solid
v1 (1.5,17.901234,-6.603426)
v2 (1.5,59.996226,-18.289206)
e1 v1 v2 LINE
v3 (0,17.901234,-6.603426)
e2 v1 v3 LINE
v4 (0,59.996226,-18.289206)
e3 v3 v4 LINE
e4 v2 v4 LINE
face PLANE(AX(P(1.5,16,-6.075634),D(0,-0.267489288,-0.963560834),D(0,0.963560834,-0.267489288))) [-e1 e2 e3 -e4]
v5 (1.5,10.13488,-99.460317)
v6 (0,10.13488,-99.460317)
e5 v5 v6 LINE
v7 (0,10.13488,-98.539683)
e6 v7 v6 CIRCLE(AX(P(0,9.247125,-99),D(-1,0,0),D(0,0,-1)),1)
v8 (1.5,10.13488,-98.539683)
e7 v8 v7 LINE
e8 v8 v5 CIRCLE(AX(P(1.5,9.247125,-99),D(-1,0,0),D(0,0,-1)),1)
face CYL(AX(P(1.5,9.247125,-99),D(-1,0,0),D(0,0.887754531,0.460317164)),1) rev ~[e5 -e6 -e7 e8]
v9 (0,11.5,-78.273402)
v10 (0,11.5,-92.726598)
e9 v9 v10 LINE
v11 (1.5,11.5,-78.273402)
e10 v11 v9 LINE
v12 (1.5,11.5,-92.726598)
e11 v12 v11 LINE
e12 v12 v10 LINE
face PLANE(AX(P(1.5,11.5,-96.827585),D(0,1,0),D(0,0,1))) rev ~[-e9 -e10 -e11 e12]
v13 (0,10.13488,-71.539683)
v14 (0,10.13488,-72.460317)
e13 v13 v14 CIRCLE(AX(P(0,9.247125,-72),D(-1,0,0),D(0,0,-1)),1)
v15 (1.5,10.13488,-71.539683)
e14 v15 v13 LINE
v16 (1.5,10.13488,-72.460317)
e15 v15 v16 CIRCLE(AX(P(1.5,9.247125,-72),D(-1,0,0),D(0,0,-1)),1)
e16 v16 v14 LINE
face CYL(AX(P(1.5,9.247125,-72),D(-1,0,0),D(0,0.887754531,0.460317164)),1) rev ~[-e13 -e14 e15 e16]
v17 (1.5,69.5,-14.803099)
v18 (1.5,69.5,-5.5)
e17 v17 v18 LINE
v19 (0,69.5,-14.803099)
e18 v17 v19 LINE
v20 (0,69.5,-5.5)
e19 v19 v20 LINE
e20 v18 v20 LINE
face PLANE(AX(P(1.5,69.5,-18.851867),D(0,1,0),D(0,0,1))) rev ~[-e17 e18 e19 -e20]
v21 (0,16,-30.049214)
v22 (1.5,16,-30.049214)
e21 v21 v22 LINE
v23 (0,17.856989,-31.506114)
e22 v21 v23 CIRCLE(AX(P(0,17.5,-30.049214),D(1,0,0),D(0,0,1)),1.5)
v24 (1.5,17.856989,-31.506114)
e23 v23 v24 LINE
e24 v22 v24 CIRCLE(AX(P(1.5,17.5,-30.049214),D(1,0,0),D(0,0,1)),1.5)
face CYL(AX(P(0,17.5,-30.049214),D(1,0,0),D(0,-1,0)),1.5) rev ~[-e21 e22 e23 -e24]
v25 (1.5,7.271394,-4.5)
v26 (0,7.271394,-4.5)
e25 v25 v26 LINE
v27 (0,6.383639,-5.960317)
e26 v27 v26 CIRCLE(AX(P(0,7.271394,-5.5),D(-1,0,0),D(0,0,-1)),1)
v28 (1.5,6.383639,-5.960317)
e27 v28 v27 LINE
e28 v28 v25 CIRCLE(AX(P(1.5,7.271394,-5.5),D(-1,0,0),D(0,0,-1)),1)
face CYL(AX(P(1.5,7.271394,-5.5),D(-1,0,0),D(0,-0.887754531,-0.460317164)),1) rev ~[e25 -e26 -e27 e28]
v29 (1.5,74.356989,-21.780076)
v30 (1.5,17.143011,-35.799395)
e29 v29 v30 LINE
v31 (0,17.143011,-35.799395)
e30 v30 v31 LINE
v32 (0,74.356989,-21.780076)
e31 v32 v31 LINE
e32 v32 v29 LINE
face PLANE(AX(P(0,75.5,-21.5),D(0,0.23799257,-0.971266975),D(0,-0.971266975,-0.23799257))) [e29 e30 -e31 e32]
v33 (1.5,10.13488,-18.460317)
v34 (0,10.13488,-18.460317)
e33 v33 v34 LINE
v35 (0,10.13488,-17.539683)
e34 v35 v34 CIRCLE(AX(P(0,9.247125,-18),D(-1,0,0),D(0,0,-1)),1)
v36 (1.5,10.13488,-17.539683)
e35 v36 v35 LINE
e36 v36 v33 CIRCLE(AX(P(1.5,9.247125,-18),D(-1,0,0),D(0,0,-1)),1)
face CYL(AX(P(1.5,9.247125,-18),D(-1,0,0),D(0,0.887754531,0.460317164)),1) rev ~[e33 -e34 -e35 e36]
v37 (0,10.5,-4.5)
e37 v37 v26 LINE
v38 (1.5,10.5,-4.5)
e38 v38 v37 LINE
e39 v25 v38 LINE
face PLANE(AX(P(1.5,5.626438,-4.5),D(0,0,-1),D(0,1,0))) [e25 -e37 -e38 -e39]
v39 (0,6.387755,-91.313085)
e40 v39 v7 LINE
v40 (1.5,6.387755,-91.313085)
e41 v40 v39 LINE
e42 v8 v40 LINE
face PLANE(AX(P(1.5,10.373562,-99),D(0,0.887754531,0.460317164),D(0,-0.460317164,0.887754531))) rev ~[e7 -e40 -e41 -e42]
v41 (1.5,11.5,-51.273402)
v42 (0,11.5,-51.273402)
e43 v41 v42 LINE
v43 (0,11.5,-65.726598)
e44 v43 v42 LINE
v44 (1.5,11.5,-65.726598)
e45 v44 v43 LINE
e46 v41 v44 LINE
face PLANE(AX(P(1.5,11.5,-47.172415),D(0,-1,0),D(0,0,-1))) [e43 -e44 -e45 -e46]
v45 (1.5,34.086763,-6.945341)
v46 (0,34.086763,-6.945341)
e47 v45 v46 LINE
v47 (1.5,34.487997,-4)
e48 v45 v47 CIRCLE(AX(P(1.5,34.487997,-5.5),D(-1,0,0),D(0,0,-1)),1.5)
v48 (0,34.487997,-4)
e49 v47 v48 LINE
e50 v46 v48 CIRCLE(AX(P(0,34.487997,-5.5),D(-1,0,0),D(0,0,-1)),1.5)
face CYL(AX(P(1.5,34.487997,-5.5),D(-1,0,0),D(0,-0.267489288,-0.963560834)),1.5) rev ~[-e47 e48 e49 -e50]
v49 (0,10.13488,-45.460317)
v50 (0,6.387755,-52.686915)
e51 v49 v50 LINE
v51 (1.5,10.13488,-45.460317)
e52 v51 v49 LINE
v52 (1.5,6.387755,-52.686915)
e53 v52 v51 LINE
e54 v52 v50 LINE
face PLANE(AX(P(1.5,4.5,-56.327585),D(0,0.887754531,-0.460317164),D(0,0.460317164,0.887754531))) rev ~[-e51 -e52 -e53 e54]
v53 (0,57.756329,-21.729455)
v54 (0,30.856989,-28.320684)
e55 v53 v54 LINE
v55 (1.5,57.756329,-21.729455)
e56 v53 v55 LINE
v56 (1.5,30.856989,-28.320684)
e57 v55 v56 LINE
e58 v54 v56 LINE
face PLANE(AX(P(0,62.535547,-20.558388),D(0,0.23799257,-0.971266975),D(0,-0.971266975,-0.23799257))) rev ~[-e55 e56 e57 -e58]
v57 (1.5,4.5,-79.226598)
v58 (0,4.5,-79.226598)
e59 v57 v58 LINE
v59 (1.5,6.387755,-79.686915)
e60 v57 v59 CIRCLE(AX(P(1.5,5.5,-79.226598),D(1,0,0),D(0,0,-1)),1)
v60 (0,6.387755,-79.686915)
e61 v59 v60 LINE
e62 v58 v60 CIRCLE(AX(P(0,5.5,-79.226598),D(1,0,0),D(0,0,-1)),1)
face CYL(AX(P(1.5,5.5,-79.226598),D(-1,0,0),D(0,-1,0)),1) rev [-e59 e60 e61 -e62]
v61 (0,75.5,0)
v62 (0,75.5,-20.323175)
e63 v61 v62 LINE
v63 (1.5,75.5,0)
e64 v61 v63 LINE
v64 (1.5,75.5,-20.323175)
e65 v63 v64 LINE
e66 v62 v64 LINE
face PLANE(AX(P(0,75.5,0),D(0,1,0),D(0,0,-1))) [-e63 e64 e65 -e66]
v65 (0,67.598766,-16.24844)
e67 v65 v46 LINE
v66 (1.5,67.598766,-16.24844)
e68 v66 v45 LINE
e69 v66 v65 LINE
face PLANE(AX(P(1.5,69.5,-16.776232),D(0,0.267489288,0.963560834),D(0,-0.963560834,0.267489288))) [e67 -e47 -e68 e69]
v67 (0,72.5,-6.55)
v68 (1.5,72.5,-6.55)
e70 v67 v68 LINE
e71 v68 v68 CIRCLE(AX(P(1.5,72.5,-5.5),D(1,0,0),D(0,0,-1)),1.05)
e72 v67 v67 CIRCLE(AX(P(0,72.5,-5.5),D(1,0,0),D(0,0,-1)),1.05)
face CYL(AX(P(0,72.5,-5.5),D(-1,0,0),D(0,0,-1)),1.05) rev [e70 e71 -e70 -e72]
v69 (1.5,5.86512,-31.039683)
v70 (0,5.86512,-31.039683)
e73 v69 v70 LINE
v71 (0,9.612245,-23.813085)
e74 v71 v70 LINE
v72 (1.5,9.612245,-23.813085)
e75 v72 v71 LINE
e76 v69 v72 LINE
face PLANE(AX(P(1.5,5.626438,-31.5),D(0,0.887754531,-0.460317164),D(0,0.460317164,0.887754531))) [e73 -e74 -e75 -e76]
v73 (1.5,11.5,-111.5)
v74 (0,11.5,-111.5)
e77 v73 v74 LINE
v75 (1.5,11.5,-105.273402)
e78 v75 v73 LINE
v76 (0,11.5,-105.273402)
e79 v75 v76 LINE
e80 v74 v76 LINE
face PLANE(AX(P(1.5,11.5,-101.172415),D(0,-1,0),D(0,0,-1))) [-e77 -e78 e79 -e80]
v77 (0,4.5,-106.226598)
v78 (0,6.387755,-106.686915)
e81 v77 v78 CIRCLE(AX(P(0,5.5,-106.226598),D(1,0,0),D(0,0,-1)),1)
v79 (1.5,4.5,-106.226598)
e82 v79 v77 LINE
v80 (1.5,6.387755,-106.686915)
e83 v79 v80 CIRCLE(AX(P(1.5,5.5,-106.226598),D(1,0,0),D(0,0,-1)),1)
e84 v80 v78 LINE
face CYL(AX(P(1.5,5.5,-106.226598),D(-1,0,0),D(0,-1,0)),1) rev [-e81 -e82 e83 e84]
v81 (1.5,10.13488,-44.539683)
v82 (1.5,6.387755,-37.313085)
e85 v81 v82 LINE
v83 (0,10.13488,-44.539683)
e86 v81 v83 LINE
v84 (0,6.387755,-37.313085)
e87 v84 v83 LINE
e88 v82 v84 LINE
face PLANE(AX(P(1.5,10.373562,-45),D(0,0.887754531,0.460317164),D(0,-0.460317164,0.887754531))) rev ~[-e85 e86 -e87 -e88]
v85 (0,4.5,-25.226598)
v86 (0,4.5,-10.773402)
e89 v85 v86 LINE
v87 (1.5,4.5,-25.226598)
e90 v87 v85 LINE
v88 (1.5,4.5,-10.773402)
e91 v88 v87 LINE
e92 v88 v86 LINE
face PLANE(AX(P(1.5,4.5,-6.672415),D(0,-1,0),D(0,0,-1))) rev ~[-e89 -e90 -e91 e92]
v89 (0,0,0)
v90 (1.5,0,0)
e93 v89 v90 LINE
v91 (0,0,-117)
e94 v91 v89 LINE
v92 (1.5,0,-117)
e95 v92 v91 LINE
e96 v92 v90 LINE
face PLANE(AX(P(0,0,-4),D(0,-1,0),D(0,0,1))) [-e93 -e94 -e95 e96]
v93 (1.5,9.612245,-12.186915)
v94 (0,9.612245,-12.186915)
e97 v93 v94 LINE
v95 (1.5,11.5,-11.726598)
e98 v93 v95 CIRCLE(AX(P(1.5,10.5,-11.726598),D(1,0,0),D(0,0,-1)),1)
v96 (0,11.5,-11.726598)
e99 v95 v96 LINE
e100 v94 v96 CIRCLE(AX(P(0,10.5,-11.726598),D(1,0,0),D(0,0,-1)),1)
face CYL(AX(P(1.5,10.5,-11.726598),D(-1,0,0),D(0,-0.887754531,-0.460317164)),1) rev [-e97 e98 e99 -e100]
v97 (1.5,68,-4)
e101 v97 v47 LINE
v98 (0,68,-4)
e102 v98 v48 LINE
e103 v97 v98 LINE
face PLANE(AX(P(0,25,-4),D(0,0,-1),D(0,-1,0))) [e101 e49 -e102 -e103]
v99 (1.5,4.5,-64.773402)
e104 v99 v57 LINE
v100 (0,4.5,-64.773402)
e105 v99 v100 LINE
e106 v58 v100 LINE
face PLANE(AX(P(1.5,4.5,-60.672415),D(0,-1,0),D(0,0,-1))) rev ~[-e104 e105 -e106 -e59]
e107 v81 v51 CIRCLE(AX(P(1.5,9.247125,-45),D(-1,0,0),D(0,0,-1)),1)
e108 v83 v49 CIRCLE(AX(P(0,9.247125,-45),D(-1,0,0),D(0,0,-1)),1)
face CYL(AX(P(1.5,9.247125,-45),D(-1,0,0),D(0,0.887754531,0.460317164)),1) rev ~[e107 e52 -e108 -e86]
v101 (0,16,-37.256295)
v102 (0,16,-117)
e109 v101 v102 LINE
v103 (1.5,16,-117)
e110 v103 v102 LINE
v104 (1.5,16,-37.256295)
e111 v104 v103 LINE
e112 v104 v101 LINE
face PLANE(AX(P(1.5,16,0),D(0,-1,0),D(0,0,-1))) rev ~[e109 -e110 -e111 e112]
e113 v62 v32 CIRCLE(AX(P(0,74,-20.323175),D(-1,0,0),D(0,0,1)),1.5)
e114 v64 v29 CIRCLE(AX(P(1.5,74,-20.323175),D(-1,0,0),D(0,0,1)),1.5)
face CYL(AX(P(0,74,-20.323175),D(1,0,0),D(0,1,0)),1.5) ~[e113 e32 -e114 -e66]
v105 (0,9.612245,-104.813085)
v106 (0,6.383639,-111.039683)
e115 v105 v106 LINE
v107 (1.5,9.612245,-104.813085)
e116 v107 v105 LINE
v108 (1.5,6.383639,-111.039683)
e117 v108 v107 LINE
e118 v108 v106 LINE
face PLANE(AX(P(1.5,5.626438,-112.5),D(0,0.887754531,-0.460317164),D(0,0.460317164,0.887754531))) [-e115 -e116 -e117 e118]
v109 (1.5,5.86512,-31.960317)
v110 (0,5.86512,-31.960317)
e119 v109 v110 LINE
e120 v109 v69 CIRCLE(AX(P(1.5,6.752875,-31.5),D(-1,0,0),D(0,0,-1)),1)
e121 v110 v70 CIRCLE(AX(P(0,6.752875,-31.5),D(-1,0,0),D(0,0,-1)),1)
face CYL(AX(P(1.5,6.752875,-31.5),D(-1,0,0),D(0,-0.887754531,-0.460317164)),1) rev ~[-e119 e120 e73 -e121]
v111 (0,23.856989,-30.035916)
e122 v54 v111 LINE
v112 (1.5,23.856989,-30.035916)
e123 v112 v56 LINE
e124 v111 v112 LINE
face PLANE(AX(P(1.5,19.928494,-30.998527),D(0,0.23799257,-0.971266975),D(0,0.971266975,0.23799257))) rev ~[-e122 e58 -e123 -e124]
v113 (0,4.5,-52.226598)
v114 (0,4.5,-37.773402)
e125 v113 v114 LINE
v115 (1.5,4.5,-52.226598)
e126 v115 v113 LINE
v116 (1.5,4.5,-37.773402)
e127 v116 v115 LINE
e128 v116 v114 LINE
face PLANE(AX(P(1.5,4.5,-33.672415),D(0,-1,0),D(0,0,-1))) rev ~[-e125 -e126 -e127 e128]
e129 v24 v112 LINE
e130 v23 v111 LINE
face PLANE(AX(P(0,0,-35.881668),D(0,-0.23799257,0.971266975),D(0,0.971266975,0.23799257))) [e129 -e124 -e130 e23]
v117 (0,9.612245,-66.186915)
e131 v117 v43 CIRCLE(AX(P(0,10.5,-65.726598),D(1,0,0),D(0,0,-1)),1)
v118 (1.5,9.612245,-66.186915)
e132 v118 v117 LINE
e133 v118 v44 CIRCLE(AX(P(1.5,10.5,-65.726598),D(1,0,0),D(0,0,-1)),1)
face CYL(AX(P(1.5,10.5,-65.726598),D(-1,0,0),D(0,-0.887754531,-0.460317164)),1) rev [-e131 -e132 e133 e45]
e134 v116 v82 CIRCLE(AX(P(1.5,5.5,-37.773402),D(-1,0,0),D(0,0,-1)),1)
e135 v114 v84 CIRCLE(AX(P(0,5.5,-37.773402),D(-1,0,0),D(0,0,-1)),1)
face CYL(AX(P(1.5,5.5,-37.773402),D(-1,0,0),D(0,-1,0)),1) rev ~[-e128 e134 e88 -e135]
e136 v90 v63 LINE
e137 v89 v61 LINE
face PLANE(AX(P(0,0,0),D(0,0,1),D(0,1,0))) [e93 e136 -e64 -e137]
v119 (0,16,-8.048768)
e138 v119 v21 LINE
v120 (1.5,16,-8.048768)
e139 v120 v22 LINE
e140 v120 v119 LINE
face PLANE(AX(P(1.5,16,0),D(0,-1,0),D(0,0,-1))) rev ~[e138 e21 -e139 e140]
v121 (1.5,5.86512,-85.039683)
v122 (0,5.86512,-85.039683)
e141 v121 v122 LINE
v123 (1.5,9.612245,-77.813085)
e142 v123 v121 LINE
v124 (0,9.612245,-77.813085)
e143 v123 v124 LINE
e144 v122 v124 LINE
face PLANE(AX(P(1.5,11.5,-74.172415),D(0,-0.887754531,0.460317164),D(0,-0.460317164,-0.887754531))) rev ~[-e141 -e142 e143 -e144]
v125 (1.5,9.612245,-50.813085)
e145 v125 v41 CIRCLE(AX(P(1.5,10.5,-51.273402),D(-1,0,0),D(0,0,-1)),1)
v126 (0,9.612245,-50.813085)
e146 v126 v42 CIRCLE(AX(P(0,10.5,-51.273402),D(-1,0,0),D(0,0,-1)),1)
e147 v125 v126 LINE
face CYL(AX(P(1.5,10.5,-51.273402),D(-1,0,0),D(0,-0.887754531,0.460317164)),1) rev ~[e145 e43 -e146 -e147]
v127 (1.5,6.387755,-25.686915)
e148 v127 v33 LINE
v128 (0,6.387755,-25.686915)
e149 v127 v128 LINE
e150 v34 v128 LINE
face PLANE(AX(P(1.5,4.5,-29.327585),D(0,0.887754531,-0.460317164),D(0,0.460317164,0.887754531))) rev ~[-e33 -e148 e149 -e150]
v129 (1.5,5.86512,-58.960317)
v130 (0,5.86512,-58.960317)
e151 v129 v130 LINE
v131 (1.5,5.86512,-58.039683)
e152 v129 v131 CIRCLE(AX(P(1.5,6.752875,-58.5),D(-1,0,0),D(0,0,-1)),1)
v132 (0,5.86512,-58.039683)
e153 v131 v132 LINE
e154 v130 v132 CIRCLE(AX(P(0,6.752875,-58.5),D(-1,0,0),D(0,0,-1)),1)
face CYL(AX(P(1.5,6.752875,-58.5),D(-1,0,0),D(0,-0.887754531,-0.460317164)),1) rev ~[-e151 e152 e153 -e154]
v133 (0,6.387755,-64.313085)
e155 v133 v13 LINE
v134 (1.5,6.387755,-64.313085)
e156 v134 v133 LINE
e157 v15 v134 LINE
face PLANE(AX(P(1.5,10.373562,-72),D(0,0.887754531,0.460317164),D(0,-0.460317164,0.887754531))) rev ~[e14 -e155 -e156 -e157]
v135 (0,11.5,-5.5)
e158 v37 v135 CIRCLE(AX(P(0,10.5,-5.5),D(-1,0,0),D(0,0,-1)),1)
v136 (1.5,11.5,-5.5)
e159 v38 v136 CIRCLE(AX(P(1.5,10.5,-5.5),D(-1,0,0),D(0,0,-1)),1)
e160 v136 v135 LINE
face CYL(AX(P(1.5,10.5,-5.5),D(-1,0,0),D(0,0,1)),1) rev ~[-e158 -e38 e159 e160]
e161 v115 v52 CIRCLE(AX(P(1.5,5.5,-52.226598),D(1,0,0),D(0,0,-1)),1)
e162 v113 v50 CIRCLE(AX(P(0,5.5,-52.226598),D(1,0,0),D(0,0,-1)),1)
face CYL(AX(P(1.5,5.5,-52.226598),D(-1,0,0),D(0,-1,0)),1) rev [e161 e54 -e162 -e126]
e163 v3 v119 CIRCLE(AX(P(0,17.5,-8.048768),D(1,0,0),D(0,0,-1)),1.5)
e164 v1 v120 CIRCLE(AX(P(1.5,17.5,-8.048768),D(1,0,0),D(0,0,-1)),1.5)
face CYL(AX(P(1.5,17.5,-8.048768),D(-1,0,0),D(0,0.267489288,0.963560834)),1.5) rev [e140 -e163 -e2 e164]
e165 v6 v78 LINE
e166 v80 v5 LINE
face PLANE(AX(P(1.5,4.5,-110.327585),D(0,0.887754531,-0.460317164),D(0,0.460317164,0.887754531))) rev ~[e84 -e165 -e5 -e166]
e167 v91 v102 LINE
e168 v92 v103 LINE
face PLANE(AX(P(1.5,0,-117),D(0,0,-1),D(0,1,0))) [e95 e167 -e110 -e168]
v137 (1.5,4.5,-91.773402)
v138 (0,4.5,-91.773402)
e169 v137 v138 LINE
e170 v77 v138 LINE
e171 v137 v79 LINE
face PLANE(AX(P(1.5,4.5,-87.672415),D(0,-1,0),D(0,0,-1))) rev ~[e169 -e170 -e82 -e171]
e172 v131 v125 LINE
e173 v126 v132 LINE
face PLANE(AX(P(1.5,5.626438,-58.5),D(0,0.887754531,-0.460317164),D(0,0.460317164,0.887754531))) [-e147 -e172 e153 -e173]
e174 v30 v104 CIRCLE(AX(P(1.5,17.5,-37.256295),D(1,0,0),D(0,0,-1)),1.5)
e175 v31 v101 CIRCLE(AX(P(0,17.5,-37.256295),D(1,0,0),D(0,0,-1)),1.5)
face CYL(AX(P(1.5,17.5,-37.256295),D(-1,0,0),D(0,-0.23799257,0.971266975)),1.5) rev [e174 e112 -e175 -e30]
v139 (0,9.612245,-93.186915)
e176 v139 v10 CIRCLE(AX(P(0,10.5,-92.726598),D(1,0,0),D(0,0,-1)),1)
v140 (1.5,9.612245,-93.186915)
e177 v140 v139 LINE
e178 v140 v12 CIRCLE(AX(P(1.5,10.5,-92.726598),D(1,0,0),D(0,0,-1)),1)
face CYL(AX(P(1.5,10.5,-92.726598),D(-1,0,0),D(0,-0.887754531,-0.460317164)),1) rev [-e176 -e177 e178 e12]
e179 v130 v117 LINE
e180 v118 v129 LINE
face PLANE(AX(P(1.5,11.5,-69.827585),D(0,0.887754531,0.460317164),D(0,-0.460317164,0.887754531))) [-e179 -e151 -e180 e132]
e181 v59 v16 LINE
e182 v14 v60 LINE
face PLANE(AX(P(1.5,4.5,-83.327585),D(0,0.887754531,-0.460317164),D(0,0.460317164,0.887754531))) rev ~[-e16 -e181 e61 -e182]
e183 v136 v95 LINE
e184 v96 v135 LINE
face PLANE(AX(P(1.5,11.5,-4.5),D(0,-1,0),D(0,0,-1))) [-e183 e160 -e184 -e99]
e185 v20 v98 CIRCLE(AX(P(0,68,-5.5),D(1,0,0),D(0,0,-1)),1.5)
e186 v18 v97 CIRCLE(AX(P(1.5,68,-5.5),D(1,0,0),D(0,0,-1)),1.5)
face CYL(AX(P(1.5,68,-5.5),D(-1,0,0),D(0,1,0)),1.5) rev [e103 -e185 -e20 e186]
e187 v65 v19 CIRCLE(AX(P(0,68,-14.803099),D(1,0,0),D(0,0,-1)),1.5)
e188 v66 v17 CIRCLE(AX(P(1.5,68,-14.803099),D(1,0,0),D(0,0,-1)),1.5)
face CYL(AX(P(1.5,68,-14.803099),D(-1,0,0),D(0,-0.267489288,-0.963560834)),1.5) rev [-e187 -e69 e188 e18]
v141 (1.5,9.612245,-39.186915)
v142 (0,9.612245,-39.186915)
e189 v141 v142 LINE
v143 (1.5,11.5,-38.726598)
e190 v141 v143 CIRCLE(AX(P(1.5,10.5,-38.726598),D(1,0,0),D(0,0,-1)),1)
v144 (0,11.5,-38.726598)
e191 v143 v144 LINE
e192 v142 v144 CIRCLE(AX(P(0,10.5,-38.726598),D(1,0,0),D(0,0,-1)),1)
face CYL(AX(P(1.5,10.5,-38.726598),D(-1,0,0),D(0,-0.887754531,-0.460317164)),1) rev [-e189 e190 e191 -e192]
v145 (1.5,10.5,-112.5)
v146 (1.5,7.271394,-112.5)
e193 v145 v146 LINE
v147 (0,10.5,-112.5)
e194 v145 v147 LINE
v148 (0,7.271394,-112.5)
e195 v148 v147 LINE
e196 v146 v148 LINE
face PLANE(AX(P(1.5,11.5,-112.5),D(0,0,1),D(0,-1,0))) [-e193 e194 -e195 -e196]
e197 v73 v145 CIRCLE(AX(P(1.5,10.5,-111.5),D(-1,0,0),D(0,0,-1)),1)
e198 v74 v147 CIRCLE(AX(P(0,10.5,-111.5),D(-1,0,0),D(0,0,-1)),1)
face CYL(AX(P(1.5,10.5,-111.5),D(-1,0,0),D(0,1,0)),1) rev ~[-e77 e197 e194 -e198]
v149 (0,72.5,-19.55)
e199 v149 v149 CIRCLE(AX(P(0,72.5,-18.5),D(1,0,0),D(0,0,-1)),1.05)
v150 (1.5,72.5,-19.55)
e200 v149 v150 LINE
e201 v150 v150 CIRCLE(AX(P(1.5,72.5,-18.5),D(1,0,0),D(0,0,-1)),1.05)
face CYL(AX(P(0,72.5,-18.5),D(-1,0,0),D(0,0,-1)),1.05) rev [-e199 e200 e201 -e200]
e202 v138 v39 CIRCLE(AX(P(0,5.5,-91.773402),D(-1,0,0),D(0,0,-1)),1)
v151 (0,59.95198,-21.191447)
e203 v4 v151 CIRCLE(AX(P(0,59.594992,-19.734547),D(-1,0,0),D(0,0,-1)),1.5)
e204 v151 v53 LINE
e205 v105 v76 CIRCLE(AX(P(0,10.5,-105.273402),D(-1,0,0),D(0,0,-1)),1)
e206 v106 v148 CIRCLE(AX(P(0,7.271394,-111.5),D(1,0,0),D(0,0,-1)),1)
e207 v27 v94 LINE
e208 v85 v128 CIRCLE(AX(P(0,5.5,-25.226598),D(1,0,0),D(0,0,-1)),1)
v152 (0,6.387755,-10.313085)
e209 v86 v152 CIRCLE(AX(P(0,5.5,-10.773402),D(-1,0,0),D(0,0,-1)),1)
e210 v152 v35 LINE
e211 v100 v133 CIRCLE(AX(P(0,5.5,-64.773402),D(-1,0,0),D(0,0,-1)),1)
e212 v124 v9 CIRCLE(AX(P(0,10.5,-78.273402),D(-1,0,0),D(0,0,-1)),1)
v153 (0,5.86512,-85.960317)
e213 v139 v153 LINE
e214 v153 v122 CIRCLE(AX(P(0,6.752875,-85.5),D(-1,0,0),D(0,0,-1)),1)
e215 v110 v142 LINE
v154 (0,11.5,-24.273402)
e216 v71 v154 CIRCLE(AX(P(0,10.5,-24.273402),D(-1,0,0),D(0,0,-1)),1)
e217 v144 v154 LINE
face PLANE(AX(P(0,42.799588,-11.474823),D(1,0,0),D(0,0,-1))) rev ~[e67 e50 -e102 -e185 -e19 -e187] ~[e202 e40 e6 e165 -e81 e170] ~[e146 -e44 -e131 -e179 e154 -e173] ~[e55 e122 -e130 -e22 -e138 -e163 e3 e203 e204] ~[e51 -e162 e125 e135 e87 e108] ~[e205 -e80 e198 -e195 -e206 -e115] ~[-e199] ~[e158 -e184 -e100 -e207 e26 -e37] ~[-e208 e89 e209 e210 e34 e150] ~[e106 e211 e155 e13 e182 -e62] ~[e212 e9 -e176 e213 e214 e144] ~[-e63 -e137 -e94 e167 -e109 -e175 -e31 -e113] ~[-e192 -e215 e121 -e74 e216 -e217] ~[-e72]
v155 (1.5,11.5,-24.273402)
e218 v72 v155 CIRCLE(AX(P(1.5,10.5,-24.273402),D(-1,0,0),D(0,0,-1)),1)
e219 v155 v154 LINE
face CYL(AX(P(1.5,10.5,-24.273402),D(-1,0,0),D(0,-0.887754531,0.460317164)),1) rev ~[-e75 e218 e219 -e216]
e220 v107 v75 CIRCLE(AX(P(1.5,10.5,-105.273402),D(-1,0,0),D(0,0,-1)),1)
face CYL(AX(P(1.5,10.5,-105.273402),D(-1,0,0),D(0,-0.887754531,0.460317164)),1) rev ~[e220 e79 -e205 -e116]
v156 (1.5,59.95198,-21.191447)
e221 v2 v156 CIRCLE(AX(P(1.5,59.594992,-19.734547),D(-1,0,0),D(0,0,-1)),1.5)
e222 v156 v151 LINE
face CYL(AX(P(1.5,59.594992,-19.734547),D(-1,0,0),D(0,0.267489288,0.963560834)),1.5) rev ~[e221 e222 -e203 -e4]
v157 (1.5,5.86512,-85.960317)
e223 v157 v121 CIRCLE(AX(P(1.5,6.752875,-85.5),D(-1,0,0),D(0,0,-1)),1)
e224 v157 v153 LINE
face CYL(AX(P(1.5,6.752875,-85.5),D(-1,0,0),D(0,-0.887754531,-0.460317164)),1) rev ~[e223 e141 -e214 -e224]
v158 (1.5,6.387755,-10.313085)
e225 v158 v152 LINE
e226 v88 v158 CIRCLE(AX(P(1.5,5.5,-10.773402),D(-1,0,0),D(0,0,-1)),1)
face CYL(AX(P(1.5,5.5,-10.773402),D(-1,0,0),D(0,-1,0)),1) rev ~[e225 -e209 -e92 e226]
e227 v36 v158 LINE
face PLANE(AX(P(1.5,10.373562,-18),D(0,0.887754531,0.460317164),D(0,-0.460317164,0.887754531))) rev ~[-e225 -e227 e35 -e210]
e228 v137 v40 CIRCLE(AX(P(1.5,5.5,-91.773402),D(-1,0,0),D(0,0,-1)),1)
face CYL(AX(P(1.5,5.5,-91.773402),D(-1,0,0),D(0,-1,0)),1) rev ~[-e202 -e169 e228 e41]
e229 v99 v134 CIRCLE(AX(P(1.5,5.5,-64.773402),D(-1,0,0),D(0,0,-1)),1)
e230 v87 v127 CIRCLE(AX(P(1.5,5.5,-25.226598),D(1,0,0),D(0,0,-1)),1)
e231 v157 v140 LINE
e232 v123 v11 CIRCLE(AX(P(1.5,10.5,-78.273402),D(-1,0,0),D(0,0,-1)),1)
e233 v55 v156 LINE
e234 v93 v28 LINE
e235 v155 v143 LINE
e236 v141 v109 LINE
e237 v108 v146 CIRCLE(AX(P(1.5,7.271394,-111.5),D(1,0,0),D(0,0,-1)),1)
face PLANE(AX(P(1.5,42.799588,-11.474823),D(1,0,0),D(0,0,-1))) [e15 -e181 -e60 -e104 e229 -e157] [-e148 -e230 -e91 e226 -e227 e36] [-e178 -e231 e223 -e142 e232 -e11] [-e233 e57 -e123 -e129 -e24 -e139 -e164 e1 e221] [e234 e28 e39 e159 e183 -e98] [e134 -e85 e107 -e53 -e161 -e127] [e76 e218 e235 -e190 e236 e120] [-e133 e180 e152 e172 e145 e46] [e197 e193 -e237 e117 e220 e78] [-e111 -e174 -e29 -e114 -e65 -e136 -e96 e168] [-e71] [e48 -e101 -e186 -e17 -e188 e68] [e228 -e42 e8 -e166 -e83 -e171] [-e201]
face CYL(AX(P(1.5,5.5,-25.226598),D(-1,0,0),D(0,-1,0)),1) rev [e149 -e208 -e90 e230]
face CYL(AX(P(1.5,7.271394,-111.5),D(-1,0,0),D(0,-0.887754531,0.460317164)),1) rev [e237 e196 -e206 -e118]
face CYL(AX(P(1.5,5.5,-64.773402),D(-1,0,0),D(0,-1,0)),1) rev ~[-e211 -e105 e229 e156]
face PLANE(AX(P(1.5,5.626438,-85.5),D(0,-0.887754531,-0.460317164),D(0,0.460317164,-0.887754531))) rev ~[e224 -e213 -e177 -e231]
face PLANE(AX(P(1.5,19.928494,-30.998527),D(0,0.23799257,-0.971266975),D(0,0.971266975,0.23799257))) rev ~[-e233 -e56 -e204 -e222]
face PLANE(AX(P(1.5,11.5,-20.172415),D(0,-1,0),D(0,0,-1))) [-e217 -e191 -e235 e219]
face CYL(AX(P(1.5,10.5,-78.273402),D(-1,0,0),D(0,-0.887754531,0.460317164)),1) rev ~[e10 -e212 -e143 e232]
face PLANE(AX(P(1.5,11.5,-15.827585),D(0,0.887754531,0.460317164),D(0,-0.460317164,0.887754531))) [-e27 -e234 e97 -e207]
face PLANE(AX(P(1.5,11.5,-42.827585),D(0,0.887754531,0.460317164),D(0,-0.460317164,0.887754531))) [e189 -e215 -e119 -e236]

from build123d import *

# Parameters (mm, degrees)
SKETCH1_R           = 1.05
BOSS_EXTRUDE1_DEPTH = 1.5
FILLET1_R           = 1.5
SKETCH2_W           = 117
SKETCH2_H           = 16
BOSS_EXTRUDE2_DEPTH = 1.5
CUT_EXTRUDE2_DEPTH  = 140.253366207
FILLET3_R           = 1
CUT_EXTRUDE3_DEPTH  = 140.253366207
BOSS_EXTRUDE3_DEPTH = 1.5
FILLET5_R           = 1.5


with BuildPart() as part:
    # Sketch1 → Boss-Extrude1 (new body)
    with BuildSketch(Plane(origin=(0, 0, 0), x_dir=(0, 0, -1), z_dir=(1, 0, 0))):
        Polygon((0, 0), (0, 75.5), (21.5, 75.5), (40, 0), (35.881667859, 0), (29.755840045, 25), (4, 25), (4, 0), align=None)
        with Locations((5.5, 72.5)):
            Circle(SKETCH1_R, mode=Mode.SUBTRACT)
        with Locations((18.5, 72.5)):
            Circle(SKETCH1_R, mode=Mode.SUBTRACT)
        Polygon((4, 69.5), (18.851866535, 69.5), (4, 29), align=None, mode=Mode.SUBTRACT)
        Polygon((8.260475549, 29), (20.558388216, 62.535546651), (28.775707595, 29), align=None, mode=Mode.SUBTRACT)
    extrude(amount=BOSS_EXTRUDE1_DEPTH)

    # Fillet1
    fillet1_edges = [part.edges().sort_by_distance(p)[0] for p in [
        (0.75, 75.5, -21.5),
        (0.75, 25, -29.755840045),
        (0.75, 25, -4),
        (0.75, 69.5, -4),
        (0.75, 29, -4),
        (0.75, 69.5, -18.851866535),
        (0.75, 29, -8.260475549),
        (0.75, 29, -28.775707595),
        (0.75, 62.535546651, -20.558388216),
    ]]
    fillet(fillet1_edges, radius=FILLET1_R)

    # Sketch2 → Boss-Extrude2 (add)
    with BuildSketch(Plane(origin=(1.5, 0, 0), x_dir=(0, 0, -1), z_dir=(1, 0, 0))):
        with Locations((58.5, 8)):
            Rectangle(SKETCH2_W, SKETCH2_H)
    extrude(amount=-BOSS_EXTRUDE2_DEPTH)

    # Sketch5 → Cut-Extrude2 (cut, through all)
    with BuildSketch(Plane(origin=(1.5, 0, 0), x_dir=(0, 0, -1), z_dir=(1, 0, 0))):
        Polygon((4.5, 11.5), (15.827584811, 11.5), (4.5, 5.626437506), align=None)
        Polygon((112.5, 11.5), (112.5, 5.626437506), (101.172415189, 11.5), align=None)
        Polygon((6.672415189, 4.5), (29.327584811, 4.5), (18, 10.373562494), align=None)
        Polygon((33.672415189, 4.5), (56.327584811, 4.5), (45, 10.373562494), align=None)
        Polygon((60.672415189, 4.5), (83.327584811, 4.5), (72, 10.373562494), align=None)
        Polygon((87.672415189, 4.5), (110.327584811, 4.5), (99, 10.373562494), align=None)
        Polygon((20.172415189, 11.5), (42.827584811, 11.5), (31.5, 5.626437506), align=None)
        Polygon((47.172415189, 11.5), (69.827584811, 11.5), (58.5, 5.626437506), align=None)
        Polygon((85.5, 5.626437506), (96.827584811, 11.5), (74.172415189, 11.5), align=None)
    extrude(amount=-CUT_EXTRUDE2_DEPTH, mode=Mode.SUBTRACT)

    # Fillet3
    fillet3_edges = [part.edges().sort_by_distance(p)[0] for p in [
        (0.75, 4.5, -56.327584811),
        (0.75, 4.5, -33.672415189),
        (0.75, 10.373562494, -45),
        (0.75, 5.626437506, -58.5),
        (0.75, 11.5, -47.172415189),
        (0.75, 11.5, -69.827584811),
        (0.75, 4.5, -29.327584811),
        (0.75, 4.5, -6.672415189),
        (0.75, 10.373562494, -18),
        (0.75, 5.626437506, -31.5),
        (0.75, 11.5, -20.172415189),
        (0.75, 11.5, -42.827584811),
        (0.75, 4.5, -110.327584811),
        (0.75, 4.5, -87.672415189),
        (0.75, 10.373562494, -99),
        (0.75, 5.626437506, -112.5),
        (0.75, 11.5, -101.172415189),
        (0.75, 11.5, -112.5),
        (0.75, 4.5, -83.327584811),
        (0.75, 4.5, -60.672415189),
        (0.75, 10.373562494, -72),
        (0.75, 5.626437506, -85.5),
        (0.75, 11.5, -74.172415189),
        (0.75, 11.5, -96.827584811),
        (0.75, 5.626437506, -4.5),
        (0.75, 11.5, -4.5),
        (0.75, 11.5, -15.827584811),
    ]]
    fillet(fillet3_edges, radius=FILLET3_R)

    # Sketch6 → Cut-Extrude3 (cut, through all)
    with BuildSketch(Plane(origin=(1.5, 0, 0), x_dir=(0, 0, -1), z_dir=(1, 0, 0))):
        Polygon((30.998526841, 19.928494428), (18.851866535, 69.5), (4, 69.5), (4, 19.75), align=None)
    extrude(amount=-CUT_EXTRUDE3_DEPTH, mode=Mode.SUBTRACT)

    # Sketch7 → Boss-Extrude3 (add)
    with BuildSketch(Plane(origin=(1.5, 0, 0), x_dir=(0, 0, -1), z_dir=(1, 0, 0))):
        Polygon((16.776232149, 69.5), (4, 23.476934928), (4, 16), (6.075634386, 16), (19.825004849, 65.528543637), (18.851866535, 69.5), align=None)
    extrude(amount=-BOSS_EXTRUDE3_DEPTH)

    # Fillet5
    fillet5_edges = [part.edges().sort_by_distance(p)[0] for p in [
        (0.75, 16, -31.961138058),
        (0.75, 16, -36.079470199),
        (0.75, 69.5, -4),
        (0.75, 69.5, -16.776232149),
        (0.75, 23.476934928, -4),
        (0.75, 16, -6.075634386),
        (0.75, 65.528543637, -19.825004849),
    ]]
    fillet(fillet5_edges, radius=FILLET5_R)


solid = part.part
